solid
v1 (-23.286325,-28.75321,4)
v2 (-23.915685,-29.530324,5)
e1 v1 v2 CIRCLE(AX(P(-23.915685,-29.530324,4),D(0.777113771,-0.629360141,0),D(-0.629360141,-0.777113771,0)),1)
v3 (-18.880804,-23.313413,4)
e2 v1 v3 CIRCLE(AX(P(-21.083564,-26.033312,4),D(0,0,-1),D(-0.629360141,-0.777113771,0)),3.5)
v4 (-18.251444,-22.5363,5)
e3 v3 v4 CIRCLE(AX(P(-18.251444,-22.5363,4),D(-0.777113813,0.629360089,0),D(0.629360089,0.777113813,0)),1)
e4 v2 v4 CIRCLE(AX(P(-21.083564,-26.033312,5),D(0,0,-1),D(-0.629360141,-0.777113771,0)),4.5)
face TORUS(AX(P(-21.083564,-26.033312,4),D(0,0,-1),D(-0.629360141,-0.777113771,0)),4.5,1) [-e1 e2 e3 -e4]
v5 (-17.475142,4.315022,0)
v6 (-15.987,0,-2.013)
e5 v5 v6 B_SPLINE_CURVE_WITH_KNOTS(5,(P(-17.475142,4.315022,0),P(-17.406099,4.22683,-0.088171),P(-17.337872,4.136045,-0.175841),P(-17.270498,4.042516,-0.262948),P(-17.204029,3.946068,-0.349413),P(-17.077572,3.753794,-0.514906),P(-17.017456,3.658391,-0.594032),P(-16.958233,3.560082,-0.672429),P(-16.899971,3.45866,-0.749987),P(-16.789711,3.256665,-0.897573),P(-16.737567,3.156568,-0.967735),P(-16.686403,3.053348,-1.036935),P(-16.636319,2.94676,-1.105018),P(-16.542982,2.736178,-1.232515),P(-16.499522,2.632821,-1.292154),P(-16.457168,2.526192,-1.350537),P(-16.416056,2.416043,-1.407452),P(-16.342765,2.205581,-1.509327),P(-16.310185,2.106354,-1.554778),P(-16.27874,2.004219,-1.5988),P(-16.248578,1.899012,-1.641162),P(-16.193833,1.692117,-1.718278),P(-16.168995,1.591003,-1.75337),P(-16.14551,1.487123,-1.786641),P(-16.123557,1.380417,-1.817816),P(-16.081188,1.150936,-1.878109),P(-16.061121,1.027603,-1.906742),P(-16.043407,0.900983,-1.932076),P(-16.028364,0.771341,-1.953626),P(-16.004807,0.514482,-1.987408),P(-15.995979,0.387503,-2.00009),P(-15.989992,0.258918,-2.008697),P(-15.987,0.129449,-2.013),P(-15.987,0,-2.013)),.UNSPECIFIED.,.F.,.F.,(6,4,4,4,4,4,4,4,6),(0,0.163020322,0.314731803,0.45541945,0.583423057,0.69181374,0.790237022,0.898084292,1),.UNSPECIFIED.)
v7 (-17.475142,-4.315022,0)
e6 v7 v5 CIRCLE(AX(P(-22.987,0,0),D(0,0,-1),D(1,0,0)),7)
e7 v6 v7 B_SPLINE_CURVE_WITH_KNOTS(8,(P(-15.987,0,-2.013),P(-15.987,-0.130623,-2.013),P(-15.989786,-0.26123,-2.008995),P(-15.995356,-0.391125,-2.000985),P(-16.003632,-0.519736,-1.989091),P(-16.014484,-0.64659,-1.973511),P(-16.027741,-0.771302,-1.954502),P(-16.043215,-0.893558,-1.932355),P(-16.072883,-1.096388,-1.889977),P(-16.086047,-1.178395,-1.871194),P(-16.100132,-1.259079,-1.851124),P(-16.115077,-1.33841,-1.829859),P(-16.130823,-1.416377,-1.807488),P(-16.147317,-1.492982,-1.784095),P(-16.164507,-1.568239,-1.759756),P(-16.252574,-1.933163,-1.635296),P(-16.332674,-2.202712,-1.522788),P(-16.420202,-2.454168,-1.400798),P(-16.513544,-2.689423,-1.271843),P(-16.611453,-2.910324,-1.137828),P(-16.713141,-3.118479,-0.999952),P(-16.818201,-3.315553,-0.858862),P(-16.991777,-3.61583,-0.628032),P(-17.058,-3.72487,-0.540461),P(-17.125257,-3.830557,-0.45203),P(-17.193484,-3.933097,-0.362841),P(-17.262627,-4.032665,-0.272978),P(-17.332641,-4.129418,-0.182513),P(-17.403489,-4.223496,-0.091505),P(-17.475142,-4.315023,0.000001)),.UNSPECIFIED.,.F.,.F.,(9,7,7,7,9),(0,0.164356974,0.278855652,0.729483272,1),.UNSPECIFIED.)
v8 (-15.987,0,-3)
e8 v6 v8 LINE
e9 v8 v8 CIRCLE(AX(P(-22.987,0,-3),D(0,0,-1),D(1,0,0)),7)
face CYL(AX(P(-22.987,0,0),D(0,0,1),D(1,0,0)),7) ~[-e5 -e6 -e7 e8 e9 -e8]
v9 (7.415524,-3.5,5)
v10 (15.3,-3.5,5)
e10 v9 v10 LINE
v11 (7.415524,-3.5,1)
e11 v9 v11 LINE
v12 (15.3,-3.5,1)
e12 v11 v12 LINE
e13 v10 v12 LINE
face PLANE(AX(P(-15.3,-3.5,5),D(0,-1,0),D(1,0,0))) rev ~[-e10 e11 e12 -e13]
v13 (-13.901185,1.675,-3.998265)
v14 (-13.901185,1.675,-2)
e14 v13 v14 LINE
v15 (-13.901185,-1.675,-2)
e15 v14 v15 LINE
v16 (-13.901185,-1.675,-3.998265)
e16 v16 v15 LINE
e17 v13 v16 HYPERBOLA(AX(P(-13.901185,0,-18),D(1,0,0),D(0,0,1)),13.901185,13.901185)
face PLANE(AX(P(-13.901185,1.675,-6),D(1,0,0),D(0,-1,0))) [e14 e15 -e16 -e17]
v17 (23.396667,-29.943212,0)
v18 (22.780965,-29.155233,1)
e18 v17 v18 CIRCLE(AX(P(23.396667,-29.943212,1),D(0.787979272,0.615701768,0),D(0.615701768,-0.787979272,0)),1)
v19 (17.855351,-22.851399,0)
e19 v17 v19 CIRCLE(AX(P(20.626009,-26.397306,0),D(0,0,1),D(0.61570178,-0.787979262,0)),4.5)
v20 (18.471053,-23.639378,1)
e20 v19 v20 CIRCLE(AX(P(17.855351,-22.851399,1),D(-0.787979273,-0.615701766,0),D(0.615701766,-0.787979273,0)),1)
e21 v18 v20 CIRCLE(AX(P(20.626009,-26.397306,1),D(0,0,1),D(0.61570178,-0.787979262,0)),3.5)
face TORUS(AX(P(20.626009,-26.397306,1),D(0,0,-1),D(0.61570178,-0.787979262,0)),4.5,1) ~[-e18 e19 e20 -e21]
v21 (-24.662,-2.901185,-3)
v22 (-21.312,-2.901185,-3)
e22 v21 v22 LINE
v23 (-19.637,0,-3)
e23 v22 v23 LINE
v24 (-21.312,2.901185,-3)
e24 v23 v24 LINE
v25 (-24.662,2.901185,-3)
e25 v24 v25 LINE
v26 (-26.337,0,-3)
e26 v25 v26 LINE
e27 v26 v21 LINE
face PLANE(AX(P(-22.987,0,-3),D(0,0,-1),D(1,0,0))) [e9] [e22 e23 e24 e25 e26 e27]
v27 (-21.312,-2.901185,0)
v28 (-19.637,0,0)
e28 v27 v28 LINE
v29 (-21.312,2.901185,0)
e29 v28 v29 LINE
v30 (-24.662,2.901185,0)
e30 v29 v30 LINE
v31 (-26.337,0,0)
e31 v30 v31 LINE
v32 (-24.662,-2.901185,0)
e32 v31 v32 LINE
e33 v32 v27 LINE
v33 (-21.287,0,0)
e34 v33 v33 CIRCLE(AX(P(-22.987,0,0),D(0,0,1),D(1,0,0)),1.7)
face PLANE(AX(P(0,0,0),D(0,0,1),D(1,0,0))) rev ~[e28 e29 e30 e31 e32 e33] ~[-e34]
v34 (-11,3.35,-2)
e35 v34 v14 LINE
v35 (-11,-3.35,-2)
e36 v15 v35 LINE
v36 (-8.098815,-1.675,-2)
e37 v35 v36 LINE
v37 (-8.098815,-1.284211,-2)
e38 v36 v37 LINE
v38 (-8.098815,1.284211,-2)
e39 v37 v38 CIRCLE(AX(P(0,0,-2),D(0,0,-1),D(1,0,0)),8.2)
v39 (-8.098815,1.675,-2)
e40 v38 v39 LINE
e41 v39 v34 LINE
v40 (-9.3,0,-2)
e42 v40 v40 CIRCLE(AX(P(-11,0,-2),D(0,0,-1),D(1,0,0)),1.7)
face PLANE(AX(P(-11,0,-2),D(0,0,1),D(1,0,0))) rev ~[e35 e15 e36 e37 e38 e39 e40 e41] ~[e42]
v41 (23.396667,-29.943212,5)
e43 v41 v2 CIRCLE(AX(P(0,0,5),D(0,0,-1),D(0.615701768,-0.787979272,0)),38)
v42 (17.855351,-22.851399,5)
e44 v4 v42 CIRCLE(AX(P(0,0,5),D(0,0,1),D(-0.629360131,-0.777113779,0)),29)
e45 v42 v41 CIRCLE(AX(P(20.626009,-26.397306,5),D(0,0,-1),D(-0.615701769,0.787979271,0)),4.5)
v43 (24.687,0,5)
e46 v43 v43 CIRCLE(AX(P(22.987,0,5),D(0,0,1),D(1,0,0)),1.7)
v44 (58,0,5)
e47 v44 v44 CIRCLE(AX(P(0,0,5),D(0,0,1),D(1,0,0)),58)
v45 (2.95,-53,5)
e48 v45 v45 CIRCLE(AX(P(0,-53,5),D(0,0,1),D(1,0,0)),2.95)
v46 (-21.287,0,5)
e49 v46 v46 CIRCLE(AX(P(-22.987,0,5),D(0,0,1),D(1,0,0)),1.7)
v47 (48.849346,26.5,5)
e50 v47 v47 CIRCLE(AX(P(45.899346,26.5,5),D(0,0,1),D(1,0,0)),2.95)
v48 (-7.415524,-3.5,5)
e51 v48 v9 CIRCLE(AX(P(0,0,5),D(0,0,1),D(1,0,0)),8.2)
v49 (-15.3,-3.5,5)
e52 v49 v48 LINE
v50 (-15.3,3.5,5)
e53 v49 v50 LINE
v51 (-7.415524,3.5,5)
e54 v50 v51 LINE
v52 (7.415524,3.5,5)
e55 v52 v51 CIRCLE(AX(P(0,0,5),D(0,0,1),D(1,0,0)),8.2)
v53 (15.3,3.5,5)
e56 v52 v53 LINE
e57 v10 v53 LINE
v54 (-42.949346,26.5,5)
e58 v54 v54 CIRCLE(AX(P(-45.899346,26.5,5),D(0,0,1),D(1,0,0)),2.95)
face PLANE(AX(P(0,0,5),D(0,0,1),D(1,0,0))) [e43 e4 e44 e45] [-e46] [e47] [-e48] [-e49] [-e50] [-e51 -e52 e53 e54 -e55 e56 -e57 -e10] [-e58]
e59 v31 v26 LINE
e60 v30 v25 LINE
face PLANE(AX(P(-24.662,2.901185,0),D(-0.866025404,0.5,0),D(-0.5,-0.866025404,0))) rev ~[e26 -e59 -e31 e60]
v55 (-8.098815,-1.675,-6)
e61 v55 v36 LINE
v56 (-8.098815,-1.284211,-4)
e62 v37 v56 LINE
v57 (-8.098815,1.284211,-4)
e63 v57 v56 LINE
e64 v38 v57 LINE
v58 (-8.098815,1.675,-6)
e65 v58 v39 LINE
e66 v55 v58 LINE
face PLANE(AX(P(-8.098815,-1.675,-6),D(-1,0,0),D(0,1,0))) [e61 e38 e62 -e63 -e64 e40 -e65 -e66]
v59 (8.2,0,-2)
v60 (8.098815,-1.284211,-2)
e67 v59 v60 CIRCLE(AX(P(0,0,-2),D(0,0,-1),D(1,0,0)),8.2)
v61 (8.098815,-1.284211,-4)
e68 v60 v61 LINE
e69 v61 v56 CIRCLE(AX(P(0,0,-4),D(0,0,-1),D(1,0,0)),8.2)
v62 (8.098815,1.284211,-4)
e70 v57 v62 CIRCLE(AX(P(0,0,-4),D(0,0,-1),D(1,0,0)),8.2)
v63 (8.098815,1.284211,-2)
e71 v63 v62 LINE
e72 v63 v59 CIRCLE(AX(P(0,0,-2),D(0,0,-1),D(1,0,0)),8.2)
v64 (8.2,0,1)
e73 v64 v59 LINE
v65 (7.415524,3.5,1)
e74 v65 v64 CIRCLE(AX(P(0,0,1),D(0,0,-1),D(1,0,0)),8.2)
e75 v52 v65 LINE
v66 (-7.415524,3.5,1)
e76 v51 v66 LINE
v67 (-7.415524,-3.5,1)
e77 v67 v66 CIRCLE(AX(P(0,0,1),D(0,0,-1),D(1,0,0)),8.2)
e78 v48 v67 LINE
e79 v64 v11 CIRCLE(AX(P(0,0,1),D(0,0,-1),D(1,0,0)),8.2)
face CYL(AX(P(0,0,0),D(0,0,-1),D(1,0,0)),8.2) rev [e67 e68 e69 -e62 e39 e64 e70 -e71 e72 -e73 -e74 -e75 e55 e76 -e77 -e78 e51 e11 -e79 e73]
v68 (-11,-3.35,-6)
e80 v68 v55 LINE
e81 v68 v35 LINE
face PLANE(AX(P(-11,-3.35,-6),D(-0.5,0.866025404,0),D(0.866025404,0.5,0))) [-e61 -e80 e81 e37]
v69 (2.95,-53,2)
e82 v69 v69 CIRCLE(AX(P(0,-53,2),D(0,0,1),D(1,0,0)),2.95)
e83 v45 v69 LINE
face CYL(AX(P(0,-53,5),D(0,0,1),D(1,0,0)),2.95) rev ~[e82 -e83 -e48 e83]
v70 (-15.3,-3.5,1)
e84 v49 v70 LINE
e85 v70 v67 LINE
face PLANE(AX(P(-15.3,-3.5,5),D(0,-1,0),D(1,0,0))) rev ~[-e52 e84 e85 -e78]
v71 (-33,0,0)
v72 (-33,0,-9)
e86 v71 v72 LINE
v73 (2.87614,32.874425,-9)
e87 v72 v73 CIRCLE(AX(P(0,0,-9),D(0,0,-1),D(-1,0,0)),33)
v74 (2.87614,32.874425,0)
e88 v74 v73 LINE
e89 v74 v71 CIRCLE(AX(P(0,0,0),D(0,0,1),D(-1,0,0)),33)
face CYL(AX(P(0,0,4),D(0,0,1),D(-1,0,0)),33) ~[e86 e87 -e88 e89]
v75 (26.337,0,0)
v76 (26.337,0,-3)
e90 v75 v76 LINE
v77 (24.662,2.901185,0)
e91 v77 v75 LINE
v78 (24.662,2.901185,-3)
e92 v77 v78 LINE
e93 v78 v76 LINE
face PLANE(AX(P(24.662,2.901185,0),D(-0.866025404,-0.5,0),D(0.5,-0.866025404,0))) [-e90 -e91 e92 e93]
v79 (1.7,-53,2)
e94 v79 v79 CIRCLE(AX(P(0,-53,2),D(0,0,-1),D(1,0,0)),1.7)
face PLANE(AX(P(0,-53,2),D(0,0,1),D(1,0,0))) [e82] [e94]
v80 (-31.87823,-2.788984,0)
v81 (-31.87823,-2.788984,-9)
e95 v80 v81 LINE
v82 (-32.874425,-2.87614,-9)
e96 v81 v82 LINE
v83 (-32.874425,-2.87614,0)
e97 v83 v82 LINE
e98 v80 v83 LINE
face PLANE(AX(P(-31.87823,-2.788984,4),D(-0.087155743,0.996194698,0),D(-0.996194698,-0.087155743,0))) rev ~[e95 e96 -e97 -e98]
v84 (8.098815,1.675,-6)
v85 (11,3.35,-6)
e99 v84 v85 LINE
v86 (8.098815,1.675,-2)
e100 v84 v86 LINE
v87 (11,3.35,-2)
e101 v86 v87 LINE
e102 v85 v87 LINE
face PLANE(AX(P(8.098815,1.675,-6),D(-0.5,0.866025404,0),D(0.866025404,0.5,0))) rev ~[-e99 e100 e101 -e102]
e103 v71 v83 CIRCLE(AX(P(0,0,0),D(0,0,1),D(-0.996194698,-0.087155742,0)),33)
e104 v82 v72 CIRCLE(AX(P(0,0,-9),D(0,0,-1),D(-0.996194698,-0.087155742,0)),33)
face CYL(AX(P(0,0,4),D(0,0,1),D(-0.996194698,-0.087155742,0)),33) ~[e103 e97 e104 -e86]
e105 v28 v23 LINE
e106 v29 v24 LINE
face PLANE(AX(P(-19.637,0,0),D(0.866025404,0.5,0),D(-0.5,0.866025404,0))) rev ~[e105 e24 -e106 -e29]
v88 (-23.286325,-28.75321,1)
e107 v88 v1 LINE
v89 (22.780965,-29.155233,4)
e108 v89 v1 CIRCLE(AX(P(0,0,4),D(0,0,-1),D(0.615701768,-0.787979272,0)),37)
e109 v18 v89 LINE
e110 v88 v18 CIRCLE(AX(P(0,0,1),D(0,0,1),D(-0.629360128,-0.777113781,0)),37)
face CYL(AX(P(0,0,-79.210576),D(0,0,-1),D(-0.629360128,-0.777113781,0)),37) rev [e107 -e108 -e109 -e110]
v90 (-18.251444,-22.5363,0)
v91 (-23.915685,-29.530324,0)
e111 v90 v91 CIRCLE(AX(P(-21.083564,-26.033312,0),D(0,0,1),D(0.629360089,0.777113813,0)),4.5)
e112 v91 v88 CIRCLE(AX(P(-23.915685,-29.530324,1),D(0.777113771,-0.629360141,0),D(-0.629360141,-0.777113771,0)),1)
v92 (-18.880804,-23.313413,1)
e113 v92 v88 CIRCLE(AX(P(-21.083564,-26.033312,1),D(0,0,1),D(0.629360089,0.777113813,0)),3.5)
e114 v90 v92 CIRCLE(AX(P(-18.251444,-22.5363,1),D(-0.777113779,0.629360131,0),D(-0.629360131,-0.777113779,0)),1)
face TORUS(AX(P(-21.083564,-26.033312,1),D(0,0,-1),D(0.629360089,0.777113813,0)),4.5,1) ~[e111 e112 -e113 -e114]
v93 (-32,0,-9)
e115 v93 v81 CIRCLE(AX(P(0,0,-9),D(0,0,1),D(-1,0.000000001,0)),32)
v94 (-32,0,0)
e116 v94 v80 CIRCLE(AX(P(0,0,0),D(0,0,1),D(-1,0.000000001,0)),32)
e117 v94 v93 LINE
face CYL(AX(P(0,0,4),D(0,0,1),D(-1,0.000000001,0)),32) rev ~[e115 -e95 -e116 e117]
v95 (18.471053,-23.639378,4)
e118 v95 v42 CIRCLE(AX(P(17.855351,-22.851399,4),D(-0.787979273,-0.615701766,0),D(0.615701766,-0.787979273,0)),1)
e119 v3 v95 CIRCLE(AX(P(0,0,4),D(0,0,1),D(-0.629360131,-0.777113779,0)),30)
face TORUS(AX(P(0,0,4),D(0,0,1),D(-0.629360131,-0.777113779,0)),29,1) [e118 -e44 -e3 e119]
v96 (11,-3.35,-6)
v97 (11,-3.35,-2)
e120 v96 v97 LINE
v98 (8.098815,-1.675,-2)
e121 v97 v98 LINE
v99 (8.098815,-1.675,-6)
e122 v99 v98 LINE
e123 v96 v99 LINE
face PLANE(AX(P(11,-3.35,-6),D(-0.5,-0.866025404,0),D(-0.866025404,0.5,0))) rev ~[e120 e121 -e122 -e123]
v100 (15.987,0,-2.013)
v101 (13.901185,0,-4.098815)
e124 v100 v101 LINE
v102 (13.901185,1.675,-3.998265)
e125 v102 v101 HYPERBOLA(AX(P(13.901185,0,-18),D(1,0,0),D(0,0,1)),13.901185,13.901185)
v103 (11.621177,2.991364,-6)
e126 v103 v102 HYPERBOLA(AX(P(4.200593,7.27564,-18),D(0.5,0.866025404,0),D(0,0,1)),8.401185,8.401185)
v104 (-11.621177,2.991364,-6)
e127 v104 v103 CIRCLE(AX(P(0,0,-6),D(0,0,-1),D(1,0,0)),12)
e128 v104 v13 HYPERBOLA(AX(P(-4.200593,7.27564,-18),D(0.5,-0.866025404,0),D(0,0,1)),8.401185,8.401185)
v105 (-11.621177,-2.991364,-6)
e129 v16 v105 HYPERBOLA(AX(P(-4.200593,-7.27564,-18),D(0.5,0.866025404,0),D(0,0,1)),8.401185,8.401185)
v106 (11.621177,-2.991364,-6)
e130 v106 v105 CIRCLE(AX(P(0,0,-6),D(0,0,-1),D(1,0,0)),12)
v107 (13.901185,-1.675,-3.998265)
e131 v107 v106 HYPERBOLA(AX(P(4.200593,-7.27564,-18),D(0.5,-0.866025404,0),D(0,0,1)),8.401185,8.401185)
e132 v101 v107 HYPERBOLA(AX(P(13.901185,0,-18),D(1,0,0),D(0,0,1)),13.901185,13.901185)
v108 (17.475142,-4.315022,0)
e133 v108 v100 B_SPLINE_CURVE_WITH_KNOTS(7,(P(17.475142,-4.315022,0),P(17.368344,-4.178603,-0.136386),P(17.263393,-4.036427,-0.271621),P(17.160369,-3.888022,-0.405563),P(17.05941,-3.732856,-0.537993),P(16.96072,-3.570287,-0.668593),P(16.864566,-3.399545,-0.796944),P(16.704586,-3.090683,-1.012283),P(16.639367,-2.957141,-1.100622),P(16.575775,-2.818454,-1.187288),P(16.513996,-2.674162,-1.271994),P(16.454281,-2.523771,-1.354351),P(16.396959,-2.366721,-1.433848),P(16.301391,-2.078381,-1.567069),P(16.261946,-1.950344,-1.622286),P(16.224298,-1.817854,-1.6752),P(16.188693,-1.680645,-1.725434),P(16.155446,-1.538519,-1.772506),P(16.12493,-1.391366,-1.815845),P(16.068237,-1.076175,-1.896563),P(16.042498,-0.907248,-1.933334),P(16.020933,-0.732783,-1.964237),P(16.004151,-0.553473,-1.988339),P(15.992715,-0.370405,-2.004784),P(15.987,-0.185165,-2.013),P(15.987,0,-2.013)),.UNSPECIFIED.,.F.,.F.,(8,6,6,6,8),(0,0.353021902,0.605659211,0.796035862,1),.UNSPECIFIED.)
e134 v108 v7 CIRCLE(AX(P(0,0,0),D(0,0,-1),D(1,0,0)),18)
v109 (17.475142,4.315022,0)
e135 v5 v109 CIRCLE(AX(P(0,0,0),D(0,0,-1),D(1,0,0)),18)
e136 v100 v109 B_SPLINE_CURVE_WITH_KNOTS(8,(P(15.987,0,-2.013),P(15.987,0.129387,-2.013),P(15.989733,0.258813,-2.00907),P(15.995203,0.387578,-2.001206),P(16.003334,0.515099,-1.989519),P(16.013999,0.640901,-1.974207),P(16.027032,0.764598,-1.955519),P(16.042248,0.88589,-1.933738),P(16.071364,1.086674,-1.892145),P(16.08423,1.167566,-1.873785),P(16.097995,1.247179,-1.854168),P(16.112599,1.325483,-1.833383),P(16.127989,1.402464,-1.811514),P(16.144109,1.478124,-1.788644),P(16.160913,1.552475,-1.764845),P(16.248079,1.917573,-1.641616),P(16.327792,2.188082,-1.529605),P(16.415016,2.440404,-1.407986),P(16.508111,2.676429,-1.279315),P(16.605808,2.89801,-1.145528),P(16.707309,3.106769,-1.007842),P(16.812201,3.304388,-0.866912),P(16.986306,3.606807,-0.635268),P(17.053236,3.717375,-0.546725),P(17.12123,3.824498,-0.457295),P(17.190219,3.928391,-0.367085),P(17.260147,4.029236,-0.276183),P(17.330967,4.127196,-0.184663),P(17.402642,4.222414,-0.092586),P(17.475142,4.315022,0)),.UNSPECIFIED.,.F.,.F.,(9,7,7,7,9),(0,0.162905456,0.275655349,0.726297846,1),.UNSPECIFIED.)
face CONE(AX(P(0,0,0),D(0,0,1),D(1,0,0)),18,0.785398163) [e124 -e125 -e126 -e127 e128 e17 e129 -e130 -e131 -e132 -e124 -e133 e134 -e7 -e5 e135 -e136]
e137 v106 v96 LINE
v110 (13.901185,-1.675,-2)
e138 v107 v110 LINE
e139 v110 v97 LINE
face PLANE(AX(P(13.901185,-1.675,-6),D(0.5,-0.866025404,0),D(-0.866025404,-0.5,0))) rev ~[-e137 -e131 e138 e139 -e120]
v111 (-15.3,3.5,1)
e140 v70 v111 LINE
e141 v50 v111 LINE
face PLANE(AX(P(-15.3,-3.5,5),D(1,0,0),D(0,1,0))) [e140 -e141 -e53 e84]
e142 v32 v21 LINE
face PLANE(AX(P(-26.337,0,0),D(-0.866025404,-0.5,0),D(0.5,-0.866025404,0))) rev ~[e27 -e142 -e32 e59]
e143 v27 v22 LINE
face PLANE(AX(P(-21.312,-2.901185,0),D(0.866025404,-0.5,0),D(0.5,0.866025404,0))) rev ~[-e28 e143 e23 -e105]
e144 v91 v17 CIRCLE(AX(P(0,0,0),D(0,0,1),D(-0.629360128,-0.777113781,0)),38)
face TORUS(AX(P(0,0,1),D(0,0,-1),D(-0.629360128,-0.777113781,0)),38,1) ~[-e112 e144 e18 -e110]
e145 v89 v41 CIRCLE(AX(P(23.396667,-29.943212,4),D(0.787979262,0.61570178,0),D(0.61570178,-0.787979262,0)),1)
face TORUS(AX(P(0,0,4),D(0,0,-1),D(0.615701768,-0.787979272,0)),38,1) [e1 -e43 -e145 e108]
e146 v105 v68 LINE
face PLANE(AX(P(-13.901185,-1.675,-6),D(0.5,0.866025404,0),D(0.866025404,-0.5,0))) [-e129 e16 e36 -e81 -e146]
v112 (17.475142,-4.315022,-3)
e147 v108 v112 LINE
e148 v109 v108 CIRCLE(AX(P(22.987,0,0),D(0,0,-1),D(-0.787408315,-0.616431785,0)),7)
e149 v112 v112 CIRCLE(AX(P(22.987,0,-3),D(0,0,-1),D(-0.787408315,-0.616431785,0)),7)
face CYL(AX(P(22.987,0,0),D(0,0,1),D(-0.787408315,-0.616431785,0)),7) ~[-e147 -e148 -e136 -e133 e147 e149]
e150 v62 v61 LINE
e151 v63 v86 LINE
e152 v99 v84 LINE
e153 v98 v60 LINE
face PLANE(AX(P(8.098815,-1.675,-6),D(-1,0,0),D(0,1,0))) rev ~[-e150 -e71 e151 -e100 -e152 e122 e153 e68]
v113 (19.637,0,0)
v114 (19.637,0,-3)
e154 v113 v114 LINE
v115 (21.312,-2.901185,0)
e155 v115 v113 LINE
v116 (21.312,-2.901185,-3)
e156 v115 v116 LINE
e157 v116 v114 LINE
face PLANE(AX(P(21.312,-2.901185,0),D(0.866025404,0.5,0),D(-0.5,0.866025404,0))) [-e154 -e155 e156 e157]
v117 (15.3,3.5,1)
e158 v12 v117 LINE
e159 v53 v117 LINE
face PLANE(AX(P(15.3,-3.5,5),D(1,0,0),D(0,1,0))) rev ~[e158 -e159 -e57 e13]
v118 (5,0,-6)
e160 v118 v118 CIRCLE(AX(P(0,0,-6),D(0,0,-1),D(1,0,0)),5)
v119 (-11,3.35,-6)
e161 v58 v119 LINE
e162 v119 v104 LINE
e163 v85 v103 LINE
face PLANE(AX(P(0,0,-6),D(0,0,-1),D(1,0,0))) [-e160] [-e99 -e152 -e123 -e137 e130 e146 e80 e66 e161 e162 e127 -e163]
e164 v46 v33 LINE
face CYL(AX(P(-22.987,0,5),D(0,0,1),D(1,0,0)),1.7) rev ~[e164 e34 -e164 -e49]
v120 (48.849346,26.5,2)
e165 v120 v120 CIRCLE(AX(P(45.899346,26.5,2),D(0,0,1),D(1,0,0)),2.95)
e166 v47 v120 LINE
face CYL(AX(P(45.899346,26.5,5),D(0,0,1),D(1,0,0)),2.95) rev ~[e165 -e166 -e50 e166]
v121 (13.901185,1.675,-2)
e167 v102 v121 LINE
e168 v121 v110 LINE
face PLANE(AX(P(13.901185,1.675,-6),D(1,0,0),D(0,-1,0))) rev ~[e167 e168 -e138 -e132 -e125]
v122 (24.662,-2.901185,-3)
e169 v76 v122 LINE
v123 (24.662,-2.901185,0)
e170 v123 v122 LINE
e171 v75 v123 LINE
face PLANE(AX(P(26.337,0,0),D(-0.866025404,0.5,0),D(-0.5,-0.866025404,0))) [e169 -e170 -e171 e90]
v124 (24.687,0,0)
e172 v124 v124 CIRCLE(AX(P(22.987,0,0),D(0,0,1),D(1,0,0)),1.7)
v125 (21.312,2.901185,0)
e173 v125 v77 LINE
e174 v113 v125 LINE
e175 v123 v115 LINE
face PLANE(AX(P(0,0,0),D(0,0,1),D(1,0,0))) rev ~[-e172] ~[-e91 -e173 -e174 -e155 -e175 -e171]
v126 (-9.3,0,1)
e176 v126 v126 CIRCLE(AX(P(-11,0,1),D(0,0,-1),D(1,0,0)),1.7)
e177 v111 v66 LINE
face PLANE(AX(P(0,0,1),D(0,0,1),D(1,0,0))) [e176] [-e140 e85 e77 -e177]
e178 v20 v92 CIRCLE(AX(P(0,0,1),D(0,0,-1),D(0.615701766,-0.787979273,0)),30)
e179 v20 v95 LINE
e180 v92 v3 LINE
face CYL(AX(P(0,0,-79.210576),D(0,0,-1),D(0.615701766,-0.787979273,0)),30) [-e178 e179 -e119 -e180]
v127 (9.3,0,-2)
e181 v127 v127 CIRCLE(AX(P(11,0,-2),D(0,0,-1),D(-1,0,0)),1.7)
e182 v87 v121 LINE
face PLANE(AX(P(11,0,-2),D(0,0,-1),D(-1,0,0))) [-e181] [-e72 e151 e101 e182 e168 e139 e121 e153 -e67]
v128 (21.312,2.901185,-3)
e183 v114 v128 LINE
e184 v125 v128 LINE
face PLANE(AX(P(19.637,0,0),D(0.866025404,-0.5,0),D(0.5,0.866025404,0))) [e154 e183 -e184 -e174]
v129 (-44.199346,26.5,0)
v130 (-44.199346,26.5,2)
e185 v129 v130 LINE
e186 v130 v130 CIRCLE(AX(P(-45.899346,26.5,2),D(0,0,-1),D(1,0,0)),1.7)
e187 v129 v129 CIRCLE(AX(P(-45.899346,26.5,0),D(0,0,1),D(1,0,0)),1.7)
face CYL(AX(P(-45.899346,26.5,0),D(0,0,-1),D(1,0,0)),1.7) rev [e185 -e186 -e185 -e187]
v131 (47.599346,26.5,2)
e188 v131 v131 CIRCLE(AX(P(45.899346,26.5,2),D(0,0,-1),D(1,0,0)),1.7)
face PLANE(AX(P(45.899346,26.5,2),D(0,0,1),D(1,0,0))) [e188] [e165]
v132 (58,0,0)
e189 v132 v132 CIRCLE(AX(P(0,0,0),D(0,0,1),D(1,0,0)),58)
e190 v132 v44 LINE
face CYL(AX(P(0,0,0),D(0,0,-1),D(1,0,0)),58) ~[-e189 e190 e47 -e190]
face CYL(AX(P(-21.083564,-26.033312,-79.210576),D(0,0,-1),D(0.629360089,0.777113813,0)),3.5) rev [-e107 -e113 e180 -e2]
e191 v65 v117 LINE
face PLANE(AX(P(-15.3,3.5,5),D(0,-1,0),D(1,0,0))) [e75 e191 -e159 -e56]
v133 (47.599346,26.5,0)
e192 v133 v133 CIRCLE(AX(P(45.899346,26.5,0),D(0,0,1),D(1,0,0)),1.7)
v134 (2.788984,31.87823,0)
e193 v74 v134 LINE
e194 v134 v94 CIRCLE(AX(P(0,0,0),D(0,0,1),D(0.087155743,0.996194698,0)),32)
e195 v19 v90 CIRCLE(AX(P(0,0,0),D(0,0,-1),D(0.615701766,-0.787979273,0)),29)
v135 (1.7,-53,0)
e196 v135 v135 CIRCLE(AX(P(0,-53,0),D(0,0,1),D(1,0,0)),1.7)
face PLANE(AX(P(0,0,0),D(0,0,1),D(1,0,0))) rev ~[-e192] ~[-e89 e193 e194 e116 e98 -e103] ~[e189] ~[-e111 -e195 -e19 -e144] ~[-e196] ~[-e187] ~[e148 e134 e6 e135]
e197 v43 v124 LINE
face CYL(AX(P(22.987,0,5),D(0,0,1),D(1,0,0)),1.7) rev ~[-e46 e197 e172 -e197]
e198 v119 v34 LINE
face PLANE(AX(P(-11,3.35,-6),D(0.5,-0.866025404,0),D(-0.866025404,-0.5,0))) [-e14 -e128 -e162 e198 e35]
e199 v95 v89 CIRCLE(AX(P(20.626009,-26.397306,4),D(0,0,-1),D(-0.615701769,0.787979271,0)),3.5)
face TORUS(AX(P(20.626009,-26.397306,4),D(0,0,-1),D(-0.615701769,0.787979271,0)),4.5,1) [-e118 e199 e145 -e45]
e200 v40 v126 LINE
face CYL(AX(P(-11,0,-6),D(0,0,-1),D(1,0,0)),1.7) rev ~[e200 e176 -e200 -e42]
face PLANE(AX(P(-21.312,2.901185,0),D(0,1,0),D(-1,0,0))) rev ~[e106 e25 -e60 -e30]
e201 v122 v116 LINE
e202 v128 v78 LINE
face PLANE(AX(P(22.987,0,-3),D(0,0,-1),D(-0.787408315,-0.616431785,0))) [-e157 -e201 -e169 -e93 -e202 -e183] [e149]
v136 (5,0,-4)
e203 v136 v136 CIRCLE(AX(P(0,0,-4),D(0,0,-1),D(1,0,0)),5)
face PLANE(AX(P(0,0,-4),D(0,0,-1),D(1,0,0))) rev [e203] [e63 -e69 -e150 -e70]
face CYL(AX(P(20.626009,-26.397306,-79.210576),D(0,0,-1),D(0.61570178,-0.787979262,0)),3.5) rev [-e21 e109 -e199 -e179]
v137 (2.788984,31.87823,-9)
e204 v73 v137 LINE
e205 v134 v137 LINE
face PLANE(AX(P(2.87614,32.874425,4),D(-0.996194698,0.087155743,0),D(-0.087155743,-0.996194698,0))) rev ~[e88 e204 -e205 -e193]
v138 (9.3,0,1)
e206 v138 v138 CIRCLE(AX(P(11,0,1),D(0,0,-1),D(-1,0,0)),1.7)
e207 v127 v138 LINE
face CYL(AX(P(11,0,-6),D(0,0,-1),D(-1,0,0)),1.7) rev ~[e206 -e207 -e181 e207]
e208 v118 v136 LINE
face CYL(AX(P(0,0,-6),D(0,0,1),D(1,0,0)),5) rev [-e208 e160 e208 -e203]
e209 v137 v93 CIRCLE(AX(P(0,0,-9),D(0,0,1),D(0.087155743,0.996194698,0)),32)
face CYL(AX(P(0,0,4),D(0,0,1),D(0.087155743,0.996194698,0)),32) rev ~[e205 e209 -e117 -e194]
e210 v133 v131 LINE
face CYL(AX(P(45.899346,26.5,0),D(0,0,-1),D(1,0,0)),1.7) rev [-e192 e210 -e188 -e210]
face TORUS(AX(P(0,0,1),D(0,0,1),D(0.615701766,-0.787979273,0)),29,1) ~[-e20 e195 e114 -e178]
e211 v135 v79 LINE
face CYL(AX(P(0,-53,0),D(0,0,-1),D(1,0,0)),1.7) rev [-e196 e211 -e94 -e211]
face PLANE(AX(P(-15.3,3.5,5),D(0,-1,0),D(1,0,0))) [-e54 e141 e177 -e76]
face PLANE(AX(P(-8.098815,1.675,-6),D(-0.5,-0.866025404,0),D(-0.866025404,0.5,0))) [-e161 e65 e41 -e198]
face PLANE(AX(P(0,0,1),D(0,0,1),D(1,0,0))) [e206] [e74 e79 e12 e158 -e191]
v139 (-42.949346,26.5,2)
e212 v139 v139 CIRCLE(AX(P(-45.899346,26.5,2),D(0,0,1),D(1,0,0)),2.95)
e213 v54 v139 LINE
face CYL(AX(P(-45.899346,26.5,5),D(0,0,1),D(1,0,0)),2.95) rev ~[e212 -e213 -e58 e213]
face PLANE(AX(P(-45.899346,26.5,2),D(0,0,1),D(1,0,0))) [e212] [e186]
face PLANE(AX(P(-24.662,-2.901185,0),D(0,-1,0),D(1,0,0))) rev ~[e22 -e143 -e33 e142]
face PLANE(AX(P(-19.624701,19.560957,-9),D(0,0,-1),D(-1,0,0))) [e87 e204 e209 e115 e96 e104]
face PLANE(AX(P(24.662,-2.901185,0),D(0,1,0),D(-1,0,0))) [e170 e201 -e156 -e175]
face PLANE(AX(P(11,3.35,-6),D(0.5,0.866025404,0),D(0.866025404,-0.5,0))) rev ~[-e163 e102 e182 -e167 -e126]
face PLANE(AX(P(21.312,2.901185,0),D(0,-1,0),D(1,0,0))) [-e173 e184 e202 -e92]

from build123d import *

# Parameters (mm, degrees)
SKETCH1_R                = 58
SKETCH1_R_2              = 8.2
SKETCH1_R_3              = 1.7
BOSS_EXTRUDE1_DEPTH      = 5
SKETCH4_W                = 30.6
SKETCH4_H                = 7
CUT_EXTRUDE2_DEPTH       = 4
CUT_EXTRUDE3_DEPTH       = 4
SKETCH6_R                = 1.7
CUT_EXTRUDE4_DEPTH       = 83.758685345
SKETCH7_R                = 2.95
CUT_EXTRUDE5_DEPTH       = 3
SKETCH8_R                = 1.7
CUT_EXTRUDE6_DEPTH       = 83.758685345
BOSS_EXTRUDE2_DEPTH      = 3
BOSS_EXTRUDE2_DEPTH_BACK = 10
CUT_EXTRUDE7_DEPTH       = 84.210576251
CUT_EXTRUDE7_DEPTH_BACK  = 84.210576251
FILLET1_R                = 1
SKETCH11_R               = 7
BOSS_EXTRUDE3_DEPTH      = 3


with BuildPart() as part:
    # Sketch1 → Boss-Extrude1 (new body)
    with BuildSketch(Plane.XY):
        Circle(SKETCH1_R)
        Circle(SKETCH1_R_2, mode=Mode.SUBTRACT)
        with Locations((0, -53)):
            Circle(SKETCH1_R_3, mode=Mode.SUBTRACT)
        with Locations((-45.899346401, 26.5)):
            Circle(SKETCH1_R_3, mode=Mode.SUBTRACT)
        with Locations((45.899346401, 26.5)):
            Circle(SKETCH1_R_3, mode=Mode.SUBTRACT)
    extrude(amount=BOSS_EXTRUDE1_DEPTH)

    # Sketch3 → Revolve1 (revolve)
    with BuildSketch(Plane(origin=(0, 0, 0), x_dir=(1, 0, 0), z_dir=(0, 1, 0)), mode=Mode.PRIVATE) as revolve1_sk:
        Polygon((-8.2, 0), (-18, 0), (-12, 6), (-5, 6), (-5, 4), (-8.2, 4), align=None)
    revolve(revolve1_sk.sketch.rotate(Axis((0, 0, 0), (0, 0, -1)), 180), axis=Axis((0, 0, 0), (0, 0, -1)))

    # Sketch4 → Cut-Extrude2 (cut)
    with BuildSketch(Plane.XY.offset(5)):
        Rectangle(SKETCH4_W, SKETCH4_H)
    extrude(amount=-CUT_EXTRUDE2_DEPTH, mode=Mode.SUBTRACT)

    # Sketch5 → Cut-Extrude3 (cut)
    with BuildSketch(Plane(origin=(0, 0, -6), x_dir=(-1, 0, 0), z_dir=(0, 0, -1))):
        Polygon((-11, 3.35), (-13.901185103, 1.675), (-13.901185103, -1.675), (-11, -3.35), (-8.098814897, -1.675), (-8.098814897, 1.675), align=None)
        Polygon((8.098814897, -1.675), (8.098814897, 1.675), (11, 3.35), (13.901185103, 1.675), (13.901185103, -1.675), (11, -3.35), align=None)
    extrude(amount=-CUT_EXTRUDE3_DEPTH, mode=Mode.SUBTRACT)

    # Sketch6 → Cut-Extrude4 (cut, through all)
    with BuildSketch(Plane(origin=(0, 0, -6), x_dir=(-1, 0, 0), z_dir=(0, 0, -1))):
        with Locations((-11, 0)):
            Circle(SKETCH6_R)
        with Locations(Location((11, 0, 0), (0, 0, 180))):
            Circle(SKETCH6_R)
    extrude(amount=-CUT_EXTRUDE4_DEPTH, mode=Mode.SUBTRACT)

    # Sketch7 → Cut-Extrude5 (cut)
    with BuildSketch(Plane.XY.offset(5)):
        with Locations((-45.899346401, 26.5)):
            Circle(SKETCH7_R)
        with Locations((45.899346401, 26.5)):
            Circle(SKETCH7_R)
        with Locations((0, -53)):
            Circle(SKETCH7_R)
    extrude(amount=-CUT_EXTRUDE5_DEPTH, mode=Mode.SUBTRACT)

    # Sketch8 → Cut-Extrude6 (cut, through all)
    with BuildSketch(Plane.XY.offset(5)):
        with Locations((22.987, 0)):
            Circle(SKETCH8_R)
        with Locations((-22.987, 0)):
            Circle(SKETCH8_R)
    extrude(amount=-CUT_EXTRUDE6_DEPTH, mode=Mode.SUBTRACT)

    # Sketch9 → Boss-Extrude2 (add, two sides: drawn at the far end of the back side and taken through both)
    with BuildSketch(Plane(origin=(0, 0, -6), x_dir=(-1, 0, 0), z_dir=(0, 0, -1)).offset(-BOSS_EXTRUDE2_DEPTH_BACK)):
        with BuildLine():
            ThreePointArc((33, 0), (22.294476851, 24.330152115), (-2.876139511, 32.874425037))
            Line((-2.876139511, 32.874425037), (-2.788983768, 31.878230339))
            ThreePointArc((-2.788983768, 31.878230339), (21.618886644, 23.592874778), (32, 0))
            ThreePointArc((32, 0), (31.969543091, -1.395820396), (31.878230339, -2.788983768))
            Line((31.878230339, -2.788983768), (32.874425037, -2.876139511))
            ThreePointArc((32.874425037, -2.876139511), (32.968591312, -1.439439783), (33, 0))
        make_face()
    extrude(amount=BOSS_EXTRUDE2_DEPTH + BOSS_EXTRUDE2_DEPTH_BACK)

    # Sketch10 → Cut-Extrude7 (cut, two sides: drawn at the far end of the back side and taken through both)
    with BuildSketch(Plane.XY.offset(5).offset(-CUT_EXTRUDE7_DEPTH_BACK)):
        with BuildLine():
            ThreePointArc((18.471052989, -23.639378196), (-0.261796154, -29.998857691), (-18.880803933, -23.313413367))
            ThreePointArc((-18.880803933, -23.313413367), (-23.803462517, -23.830551311), (-23.286324737, -28.753209912))
            ThreePointArc((-23.286324737, -28.753209912), (-0.322881815, -36.998591153), (22.780965409, -29.155233064))
            ThreePointArc((22.780965409, -29.155233064), (23.383936613, -24.242349436), (18.471052989, -23.639378196))
        make_face()
    extrude(amount=CUT_EXTRUDE7_DEPTH + CUT_EXTRUDE7_DEPTH_BACK, mode=Mode.SUBTRACT)

    # Fillet1
    fillet1_edges = [part.edges().sort_by_distance(p)[0] for p in [
        (-0.261796154, -29.998857691, 0),
        (23.383936613, -24.242349436, 0),
        (-0.322881815, -36.998591153, 0),
        (-23.803462517, -23.830551311, 0),
        (-23.803462517, -23.830551311, 5),
        (-0.322881815, -36.998591153, 5),
        (23.383936613, -24.242349436, 5),
        (-0.261796154, -29.998857691, 5),
    ]]
    fillet(fillet1_edges, radius=FILLET1_R)

    # Sketch11 → Boss-Extrude3 (add)
    # profile 1 of 2: a face of its own
    with BuildSketch(Plane(origin=(0, 0, 0), x_dir=(-1, 0, 0), z_dir=(0, 0, -1))):
        with Locations(Location((-22.987, 0, 0), (0, 0, 321.943969813))):
            Circle(SKETCH11_R)
        Polygon((-24.662, 2.901185103), (-26.337, 0), (-24.662, -2.901185103), (-21.312, -2.901185103), (-19.637, 0), (-21.312, 2.901185103), align=None, mode=Mode.SUBTRACT)
    # profile 2 of 2: a face of its own
    with BuildSketch(Plane(origin=(0, 0, 0), x_dir=(-1, 0, 0), z_dir=(0, 0, -1))):
        with Locations(Location((22.987, 0, 0), (0, 0, 180))):
            Circle(SKETCH11_R)
        Polygon((19.637, 0), (21.312, 2.901185103), (24.662, 2.901185103), (26.337, 0), (24.662, -2.901185103), (21.312, -2.901185103), align=None, mode=Mode.SUBTRACT)
    extrude(amount=BOSS_EXTRUDE3_DEPTH)


solid = part.part
